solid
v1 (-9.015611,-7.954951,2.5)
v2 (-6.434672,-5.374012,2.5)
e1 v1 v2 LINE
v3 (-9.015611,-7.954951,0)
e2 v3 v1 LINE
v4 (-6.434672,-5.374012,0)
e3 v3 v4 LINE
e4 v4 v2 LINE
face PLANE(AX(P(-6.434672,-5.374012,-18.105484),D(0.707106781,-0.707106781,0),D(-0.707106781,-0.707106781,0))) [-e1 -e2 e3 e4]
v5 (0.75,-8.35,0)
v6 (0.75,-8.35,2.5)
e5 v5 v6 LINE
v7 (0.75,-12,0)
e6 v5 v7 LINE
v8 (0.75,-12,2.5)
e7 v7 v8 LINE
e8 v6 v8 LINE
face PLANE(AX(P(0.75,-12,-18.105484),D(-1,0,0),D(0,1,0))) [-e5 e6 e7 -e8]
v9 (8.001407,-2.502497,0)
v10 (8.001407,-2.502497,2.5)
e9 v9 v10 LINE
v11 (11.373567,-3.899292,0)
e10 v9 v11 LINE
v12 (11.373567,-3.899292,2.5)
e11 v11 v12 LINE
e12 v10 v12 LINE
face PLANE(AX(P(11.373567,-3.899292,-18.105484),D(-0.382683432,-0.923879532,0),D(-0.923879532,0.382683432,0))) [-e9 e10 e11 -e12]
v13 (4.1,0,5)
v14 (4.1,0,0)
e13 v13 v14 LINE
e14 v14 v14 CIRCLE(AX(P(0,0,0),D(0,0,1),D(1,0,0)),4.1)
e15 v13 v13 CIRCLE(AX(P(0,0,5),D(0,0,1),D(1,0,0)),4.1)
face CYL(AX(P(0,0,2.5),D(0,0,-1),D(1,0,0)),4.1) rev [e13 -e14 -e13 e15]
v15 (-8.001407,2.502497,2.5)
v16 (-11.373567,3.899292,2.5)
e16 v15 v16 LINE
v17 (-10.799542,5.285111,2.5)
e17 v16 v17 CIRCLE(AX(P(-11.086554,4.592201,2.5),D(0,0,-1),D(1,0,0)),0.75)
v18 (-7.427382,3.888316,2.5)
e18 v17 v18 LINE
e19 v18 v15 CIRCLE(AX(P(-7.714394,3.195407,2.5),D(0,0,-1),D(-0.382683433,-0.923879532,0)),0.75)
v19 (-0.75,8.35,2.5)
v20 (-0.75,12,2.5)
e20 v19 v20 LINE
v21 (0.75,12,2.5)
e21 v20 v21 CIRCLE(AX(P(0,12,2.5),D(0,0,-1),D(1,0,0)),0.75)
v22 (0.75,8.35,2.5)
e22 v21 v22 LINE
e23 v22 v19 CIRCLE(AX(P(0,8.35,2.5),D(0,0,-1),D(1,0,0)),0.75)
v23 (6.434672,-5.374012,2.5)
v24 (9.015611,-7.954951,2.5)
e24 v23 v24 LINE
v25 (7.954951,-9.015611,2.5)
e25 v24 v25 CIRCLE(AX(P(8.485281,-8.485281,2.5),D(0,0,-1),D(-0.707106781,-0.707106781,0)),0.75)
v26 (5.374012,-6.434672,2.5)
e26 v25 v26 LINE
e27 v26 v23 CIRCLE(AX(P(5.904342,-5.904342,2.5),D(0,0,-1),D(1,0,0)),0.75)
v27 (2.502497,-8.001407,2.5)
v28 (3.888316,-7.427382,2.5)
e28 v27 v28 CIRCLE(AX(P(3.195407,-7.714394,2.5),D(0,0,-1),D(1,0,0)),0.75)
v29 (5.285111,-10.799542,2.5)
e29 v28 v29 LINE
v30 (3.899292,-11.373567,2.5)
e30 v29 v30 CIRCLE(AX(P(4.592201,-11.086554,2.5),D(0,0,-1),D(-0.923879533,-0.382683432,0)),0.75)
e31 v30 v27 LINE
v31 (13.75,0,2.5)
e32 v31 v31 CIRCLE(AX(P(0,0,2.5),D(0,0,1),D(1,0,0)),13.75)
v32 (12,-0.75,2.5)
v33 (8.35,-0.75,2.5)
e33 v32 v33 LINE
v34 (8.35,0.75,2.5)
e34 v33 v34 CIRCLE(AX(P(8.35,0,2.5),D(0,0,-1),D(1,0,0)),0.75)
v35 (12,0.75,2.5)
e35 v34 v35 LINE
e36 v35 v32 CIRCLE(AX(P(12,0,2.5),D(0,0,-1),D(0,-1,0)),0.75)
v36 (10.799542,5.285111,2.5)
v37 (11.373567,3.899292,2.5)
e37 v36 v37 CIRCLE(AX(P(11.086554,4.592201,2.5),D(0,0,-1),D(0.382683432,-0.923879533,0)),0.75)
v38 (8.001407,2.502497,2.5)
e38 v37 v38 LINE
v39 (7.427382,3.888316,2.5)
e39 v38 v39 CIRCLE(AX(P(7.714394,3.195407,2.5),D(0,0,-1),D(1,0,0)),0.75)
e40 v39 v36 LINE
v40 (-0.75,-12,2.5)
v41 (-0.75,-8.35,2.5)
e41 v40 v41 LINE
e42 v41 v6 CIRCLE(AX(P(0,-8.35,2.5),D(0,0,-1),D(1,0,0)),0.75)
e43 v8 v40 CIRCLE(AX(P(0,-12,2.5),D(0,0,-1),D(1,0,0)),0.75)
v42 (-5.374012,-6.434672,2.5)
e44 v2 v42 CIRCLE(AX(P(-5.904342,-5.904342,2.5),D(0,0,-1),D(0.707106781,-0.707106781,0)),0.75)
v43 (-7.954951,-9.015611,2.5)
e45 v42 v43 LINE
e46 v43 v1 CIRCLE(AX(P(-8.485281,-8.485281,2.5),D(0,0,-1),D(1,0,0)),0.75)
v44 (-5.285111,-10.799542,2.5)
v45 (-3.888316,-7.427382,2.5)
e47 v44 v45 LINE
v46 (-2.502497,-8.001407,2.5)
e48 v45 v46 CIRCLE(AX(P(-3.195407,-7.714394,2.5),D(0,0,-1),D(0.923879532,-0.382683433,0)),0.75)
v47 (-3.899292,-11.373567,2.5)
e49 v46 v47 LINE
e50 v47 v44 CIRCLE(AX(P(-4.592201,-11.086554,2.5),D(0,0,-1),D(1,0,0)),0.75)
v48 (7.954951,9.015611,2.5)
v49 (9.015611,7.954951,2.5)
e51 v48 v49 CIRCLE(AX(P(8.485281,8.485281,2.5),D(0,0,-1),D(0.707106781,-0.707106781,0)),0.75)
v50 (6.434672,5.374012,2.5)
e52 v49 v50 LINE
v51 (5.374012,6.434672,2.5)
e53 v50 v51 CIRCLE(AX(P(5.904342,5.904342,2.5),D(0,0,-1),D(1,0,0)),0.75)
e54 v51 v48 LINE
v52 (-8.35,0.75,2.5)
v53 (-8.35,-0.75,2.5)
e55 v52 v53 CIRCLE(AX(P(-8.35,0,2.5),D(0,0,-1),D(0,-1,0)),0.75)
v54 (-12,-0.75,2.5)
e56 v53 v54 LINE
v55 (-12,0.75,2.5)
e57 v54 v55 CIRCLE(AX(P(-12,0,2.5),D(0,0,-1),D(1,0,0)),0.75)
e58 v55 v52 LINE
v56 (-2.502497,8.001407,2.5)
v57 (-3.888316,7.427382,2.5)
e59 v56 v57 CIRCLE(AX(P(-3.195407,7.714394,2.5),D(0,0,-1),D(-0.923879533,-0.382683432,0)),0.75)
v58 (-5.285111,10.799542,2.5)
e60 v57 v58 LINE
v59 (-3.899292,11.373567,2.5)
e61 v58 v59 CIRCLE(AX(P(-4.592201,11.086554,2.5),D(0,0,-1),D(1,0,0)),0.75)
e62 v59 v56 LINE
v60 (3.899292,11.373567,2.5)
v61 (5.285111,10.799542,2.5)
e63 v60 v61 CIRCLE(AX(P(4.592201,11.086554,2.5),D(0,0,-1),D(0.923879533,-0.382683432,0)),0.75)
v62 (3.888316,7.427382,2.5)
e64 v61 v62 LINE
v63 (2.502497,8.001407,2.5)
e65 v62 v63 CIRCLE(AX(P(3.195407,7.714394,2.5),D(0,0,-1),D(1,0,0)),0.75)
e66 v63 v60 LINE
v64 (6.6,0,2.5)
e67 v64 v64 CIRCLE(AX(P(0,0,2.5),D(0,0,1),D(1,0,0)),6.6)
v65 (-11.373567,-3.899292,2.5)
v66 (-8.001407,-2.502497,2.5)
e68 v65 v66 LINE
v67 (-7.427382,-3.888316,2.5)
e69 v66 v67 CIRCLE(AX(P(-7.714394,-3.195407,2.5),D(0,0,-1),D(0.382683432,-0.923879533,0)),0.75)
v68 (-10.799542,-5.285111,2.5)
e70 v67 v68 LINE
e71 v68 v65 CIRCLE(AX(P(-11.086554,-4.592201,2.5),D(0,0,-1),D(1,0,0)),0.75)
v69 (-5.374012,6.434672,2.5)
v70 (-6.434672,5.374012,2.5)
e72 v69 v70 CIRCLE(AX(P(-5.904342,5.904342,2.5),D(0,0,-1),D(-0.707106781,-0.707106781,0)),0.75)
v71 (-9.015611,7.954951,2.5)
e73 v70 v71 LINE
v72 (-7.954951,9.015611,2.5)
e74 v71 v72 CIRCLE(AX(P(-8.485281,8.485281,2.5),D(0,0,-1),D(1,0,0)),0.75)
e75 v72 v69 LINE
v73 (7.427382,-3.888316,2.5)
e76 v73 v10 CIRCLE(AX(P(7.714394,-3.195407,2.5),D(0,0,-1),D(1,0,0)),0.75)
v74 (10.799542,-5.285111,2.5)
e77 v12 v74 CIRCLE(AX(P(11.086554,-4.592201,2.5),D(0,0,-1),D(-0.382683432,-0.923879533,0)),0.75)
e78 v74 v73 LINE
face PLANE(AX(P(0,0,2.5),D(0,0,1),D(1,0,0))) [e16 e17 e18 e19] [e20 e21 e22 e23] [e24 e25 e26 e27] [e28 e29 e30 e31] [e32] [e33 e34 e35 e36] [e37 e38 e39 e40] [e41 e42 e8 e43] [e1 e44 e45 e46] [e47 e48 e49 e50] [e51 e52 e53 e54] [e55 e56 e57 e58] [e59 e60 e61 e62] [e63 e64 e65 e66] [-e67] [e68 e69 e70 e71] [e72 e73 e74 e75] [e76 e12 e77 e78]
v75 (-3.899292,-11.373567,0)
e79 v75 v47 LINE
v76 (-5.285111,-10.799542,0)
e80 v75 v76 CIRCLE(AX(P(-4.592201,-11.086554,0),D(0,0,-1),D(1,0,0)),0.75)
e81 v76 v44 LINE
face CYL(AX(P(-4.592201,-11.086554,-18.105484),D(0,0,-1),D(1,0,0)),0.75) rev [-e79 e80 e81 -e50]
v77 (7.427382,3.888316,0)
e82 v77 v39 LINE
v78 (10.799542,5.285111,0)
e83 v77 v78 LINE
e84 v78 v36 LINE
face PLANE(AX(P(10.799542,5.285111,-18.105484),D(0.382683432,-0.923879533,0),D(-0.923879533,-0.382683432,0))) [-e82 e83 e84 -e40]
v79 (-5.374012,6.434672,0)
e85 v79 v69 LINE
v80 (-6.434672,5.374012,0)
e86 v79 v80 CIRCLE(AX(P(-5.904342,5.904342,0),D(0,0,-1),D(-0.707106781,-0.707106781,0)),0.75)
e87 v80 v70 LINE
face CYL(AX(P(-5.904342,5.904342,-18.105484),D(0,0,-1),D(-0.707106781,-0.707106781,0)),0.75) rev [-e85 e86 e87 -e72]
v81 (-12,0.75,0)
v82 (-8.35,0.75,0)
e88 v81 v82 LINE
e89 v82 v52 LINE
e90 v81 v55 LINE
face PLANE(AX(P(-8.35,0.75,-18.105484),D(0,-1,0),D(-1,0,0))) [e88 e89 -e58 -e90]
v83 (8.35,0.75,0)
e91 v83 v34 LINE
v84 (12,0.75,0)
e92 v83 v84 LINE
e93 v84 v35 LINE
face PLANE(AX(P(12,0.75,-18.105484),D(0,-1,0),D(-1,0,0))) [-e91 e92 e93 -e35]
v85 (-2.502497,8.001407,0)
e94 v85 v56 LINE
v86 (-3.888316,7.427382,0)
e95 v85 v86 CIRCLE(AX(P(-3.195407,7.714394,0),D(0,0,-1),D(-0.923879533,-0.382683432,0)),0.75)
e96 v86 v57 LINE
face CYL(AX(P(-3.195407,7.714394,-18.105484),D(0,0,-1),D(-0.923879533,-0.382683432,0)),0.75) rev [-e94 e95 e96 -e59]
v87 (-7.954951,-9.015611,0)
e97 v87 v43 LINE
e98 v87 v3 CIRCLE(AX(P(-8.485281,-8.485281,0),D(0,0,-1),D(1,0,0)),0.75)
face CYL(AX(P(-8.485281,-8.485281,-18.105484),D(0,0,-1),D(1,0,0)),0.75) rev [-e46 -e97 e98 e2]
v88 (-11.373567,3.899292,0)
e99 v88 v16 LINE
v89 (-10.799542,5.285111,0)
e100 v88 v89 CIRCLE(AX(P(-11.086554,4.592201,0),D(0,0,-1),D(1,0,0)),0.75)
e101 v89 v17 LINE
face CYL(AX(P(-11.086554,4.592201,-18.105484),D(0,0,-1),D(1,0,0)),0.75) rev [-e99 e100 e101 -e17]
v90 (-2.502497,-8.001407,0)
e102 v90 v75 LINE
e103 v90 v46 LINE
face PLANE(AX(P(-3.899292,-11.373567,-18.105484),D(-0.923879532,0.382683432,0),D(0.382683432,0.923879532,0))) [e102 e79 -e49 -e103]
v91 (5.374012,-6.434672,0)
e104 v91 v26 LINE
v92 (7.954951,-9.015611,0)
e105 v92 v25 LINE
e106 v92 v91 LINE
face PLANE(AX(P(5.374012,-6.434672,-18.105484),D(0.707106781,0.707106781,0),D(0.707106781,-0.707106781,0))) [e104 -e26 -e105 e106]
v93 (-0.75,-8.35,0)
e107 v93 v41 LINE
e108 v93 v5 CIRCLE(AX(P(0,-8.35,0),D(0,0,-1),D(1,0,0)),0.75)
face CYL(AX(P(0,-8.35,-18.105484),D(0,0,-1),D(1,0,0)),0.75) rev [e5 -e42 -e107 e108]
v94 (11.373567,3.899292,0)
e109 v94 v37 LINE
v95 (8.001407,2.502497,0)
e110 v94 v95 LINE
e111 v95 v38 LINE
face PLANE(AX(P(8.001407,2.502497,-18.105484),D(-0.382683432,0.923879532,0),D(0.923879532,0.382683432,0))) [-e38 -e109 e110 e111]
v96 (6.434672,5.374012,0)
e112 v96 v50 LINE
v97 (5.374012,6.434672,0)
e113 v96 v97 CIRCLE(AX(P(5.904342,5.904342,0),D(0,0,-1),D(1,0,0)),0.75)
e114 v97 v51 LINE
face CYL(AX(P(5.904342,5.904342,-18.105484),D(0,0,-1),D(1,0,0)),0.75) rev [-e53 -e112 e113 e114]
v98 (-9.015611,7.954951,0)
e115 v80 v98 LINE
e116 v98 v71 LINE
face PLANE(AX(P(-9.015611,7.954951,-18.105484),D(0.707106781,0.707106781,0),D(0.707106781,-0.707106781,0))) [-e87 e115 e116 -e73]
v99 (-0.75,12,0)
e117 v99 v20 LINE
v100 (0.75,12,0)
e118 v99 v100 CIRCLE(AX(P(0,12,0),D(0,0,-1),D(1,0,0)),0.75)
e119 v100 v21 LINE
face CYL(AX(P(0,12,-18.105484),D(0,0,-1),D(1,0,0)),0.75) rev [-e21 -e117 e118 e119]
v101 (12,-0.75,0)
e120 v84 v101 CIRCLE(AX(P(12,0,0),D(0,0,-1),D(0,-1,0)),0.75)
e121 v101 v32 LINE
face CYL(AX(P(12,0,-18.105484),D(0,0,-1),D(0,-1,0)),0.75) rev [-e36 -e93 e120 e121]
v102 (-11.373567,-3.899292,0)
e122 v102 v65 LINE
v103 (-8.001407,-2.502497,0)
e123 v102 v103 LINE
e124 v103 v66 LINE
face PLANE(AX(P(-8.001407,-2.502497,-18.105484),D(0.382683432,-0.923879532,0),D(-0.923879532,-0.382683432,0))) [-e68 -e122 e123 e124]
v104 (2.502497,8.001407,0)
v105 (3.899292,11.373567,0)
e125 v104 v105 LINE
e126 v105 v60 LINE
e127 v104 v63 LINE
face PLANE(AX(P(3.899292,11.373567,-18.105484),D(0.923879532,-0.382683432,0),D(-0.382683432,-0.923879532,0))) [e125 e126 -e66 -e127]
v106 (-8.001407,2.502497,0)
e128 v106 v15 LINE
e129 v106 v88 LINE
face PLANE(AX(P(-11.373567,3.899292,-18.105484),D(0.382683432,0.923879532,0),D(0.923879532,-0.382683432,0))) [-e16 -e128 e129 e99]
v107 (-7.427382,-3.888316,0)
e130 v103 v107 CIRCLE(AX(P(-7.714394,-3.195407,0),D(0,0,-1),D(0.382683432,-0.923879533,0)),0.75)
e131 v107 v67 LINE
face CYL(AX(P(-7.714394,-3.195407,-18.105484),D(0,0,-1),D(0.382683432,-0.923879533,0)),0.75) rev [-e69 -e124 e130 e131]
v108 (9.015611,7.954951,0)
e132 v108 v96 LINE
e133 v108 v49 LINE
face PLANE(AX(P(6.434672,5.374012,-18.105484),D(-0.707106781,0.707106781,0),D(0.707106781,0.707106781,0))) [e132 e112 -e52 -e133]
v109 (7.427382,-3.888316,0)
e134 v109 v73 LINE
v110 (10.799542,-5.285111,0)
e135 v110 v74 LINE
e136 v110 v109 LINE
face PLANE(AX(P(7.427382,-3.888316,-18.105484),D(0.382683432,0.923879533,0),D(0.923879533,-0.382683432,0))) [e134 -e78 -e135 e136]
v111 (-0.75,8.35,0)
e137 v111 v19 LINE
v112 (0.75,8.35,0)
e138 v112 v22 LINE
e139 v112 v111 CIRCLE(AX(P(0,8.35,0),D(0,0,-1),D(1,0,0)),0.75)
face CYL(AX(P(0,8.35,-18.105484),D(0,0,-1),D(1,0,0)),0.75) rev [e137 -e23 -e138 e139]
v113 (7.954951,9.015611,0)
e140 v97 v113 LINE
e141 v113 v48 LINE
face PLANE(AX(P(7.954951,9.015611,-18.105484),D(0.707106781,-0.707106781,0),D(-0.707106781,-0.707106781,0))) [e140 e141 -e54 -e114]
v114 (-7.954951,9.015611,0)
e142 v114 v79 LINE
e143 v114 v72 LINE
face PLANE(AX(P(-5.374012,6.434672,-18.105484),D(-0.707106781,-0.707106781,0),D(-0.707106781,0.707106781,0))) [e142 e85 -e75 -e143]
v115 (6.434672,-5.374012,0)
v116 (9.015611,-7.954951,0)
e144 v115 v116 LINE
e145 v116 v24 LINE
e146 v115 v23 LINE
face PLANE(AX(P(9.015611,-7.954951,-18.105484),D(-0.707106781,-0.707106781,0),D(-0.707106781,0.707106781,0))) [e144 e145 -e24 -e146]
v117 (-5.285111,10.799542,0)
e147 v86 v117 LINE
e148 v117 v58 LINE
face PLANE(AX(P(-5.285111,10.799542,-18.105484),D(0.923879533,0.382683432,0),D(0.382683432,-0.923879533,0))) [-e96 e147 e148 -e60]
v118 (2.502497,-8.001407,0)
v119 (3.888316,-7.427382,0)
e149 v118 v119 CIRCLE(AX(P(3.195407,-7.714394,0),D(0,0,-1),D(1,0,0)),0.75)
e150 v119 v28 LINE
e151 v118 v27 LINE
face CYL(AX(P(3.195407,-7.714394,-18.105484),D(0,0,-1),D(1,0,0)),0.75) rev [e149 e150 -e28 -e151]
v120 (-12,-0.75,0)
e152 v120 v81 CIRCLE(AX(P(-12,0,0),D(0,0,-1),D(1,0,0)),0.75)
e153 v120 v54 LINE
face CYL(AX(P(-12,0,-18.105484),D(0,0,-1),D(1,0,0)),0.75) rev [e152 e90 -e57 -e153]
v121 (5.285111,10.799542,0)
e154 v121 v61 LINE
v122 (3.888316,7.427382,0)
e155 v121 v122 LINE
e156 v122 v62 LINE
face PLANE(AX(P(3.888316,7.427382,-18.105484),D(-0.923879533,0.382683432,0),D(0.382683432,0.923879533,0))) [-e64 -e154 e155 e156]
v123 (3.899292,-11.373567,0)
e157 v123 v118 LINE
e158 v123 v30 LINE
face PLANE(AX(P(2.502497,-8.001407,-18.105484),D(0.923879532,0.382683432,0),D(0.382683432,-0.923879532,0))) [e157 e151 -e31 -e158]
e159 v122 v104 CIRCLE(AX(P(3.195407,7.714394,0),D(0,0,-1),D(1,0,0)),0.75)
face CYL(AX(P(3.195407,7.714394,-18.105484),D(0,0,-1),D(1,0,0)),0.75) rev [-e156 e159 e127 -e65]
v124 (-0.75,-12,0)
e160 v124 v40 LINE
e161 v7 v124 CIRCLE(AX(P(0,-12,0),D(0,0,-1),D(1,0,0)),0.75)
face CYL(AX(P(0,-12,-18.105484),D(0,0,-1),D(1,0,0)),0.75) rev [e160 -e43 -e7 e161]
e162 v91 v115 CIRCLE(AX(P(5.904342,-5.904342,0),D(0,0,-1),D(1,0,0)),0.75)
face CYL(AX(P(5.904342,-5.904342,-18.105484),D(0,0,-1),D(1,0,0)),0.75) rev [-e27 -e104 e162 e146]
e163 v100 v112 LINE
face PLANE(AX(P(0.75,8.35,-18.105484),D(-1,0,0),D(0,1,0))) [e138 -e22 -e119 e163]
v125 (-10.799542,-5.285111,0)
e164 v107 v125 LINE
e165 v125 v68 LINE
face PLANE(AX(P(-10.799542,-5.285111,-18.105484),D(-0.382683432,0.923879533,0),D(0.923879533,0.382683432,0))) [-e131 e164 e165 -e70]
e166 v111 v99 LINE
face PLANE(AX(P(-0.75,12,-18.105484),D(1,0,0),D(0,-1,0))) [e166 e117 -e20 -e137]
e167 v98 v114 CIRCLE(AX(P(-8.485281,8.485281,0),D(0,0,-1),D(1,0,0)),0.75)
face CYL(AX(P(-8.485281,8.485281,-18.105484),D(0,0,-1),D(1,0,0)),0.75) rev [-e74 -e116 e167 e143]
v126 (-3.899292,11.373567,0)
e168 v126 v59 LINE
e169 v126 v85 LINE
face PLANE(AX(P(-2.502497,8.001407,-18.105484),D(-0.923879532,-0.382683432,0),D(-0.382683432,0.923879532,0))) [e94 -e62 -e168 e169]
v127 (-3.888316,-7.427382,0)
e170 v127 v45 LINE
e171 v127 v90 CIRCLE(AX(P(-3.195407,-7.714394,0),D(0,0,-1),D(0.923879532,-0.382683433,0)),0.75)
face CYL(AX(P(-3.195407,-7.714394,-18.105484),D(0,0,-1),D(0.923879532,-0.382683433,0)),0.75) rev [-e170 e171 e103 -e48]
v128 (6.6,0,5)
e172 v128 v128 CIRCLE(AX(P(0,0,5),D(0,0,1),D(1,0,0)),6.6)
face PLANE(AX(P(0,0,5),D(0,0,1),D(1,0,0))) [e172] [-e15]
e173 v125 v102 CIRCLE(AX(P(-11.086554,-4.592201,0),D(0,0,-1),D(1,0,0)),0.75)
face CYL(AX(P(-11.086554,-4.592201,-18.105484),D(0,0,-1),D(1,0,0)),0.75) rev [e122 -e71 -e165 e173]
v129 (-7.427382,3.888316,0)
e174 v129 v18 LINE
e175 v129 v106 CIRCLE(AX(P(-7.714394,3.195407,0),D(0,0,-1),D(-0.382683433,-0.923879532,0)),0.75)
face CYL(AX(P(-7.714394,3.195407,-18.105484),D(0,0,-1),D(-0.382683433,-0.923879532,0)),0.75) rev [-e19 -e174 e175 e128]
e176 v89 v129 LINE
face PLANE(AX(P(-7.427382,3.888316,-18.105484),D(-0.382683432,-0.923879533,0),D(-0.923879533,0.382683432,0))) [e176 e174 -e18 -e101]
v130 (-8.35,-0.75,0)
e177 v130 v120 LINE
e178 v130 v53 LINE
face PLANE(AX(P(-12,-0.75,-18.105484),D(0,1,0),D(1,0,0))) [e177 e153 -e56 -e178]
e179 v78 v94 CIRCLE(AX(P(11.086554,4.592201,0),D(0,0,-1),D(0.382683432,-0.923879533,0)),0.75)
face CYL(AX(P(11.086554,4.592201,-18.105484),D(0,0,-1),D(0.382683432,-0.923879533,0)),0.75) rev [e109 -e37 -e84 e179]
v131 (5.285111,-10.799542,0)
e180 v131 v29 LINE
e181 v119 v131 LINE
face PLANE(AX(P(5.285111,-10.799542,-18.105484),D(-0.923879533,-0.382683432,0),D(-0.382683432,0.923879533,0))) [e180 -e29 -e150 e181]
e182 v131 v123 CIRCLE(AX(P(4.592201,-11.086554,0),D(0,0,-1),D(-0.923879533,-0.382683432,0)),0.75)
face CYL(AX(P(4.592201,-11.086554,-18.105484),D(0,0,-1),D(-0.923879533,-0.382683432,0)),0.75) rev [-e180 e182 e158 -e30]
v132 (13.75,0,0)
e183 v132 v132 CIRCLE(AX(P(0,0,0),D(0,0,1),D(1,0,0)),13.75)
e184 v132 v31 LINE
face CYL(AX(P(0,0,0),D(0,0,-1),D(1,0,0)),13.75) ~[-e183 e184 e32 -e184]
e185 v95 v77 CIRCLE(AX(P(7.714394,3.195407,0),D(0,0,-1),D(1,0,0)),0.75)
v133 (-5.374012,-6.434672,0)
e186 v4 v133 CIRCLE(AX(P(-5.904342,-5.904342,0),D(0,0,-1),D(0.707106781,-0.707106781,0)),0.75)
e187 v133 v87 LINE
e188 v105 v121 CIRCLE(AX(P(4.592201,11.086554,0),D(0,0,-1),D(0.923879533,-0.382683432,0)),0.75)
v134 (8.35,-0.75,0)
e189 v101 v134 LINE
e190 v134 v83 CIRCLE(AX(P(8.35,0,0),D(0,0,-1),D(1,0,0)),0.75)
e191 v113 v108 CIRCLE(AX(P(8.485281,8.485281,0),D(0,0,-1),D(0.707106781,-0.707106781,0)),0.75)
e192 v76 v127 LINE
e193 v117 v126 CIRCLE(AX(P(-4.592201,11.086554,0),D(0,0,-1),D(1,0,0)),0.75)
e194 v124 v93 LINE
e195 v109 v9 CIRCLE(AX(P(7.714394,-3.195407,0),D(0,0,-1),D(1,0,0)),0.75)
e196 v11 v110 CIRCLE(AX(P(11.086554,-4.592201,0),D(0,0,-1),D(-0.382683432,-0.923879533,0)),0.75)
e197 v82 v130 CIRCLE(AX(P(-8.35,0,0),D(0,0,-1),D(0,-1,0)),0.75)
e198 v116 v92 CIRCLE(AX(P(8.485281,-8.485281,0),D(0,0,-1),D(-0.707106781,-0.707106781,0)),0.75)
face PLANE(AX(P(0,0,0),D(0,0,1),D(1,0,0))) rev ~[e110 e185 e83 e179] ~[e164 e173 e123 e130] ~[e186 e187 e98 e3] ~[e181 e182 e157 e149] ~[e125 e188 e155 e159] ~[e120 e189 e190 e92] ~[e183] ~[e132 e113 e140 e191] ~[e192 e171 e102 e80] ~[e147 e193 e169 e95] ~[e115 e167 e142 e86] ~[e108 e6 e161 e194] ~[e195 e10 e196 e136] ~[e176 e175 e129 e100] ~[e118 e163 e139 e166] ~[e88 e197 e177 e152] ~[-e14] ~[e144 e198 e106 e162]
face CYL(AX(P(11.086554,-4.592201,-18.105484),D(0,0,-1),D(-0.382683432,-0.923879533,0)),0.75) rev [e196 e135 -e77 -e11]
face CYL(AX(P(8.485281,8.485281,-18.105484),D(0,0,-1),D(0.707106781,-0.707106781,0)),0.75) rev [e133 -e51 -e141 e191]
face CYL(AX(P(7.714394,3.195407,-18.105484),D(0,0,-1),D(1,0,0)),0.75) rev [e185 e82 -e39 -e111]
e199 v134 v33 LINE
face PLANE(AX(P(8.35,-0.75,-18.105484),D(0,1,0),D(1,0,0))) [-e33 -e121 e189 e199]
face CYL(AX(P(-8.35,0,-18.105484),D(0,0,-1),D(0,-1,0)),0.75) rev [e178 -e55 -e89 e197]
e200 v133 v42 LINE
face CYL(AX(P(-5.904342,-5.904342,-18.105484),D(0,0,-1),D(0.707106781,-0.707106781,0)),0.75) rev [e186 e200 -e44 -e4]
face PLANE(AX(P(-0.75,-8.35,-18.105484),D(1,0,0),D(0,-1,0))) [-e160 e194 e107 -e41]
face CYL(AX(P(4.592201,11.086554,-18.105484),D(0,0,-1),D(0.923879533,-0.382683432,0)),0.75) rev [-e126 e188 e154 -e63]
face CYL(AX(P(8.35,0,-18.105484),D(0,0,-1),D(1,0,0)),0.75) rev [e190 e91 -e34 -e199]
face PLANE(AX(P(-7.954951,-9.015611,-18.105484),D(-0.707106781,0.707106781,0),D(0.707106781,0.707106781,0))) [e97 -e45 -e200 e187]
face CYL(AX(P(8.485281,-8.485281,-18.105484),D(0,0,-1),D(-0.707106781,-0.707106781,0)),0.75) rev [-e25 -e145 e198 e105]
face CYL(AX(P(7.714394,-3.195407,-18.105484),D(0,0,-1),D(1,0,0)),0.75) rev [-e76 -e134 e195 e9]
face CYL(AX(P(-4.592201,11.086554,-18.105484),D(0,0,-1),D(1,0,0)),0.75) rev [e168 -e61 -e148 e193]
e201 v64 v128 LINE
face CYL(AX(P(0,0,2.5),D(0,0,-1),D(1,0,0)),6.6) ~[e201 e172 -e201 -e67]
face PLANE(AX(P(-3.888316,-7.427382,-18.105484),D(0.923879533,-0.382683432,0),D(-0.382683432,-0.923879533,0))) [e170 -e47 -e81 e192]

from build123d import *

# Parameters (mm, degrees)
SKETCH1_R               = 13.75
SKETCH1_R_2             = 4.1
BOSS_EXTRUDE1_DEPTH     = 2.5
SKETCH2_R               = 6.6
SKETCH2_R_2             = 4.1
BOSS_EXTRUDE2_DEPTH     = 2.5
CUT_EXTRUDE1_DEPTH      = 20.605483927
CUT_EXTRUDE1_DEPTH_BACK = 20.605483927
SKETCH3_R               = 0.75


with BuildPart() as part:
    # Sketch1 → Boss-Extrude1 (new body)
    with BuildSketch(Plane.XY):
        Circle(SKETCH1_R)
        Circle(SKETCH1_R_2, mode=Mode.SUBTRACT)
    extrude(amount=BOSS_EXTRUDE1_DEPTH)

    # Sketch2 → Boss-Extrude2 (add)
    with BuildSketch(Plane.XY.offset(2.5)):
        Circle(SKETCH2_R)
        Circle(SKETCH2_R_2, mode=Mode.SUBTRACT)
    extrude(amount=BOSS_EXTRUDE2_DEPTH)

    # Sketch3 → Cut-Extrude1 (cut, two sides: drawn at the far end of the back side and taken through both)
    with BuildSketch(Plane.XY.offset(2.5).offset(-CUT_EXTRUDE1_DEPTH_BACK)):
        with BuildLine():
            ThreePointArc((0.75, 12), (0, 11.25), (-0.75, 12))
            Line((-0.75, 12), (-0.75, 8.35))
            ThreePointArc((-0.75, 8.35), (0, 9.1), (0.75, 8.35))
            Line((0.75, 8.35), (0.75, 12))
        make_face()
        with BuildLine():
            ThreePointArc((5.285110838, 10.799541816), (4.305188614, 10.393644741), (3.899291539, 11.373566964))
            Line((3.899291539, 11.373566964), (2.502497011, 8.001406671))
            ThreePointArc((2.502497011, 8.001406671), (3.341724402, 8.449983057), (3.94540666, 7.714394096))
            ThreePointArc((3.94540666, 7.714394096), (3.930995621, 7.568076355), (3.88831631, 7.427381522))
            Line((3.88831631, 7.427381522), (5.285110838, 10.799541816))
        make_face()
        with BuildLine():
            ThreePointArc((9.01561146, 7.954951288), (7.954951288, 7.954951288), (7.954951288, 9.01561146))
            Line((7.954951288, 9.01561146), (5.374011537, 6.434671709))
            ThreePointArc((5.374011537, 6.434671709), (6.191354197, 6.597251272), (6.654341623, 5.904341623))
            ThreePointArc((6.654341623, 5.904341623), (6.597251272, 5.617329049), (6.434671709, 5.374011537))
            Line((6.434671709, 5.374011537), (9.01561146, 7.954951288))
        make_face()
        with BuildLine():
            ThreePointArc((11.373566964, 3.899291539), (10.393644741, 4.305188614), (10.799541816, 5.285110838))
            Line((10.799541816, 5.285110838), (7.427381522, 3.88831631))
            ThreePointArc((7.427381522, 3.88831631), (8.131071771, 3.819008869), (8.464394096, 3.19540666))
            ThreePointArc((8.464394096, 3.19540666), (8.337996306, 2.778728985), (8.001406671, 2.502497011))
            Line((8.001406671, 2.502497011), (11.373566964, 3.899291539))
        make_face()
        with BuildLine():
            ThreePointArc((12, -0.75), (11.25, 0), (12, 0.75))
            Line((12, 0.75), (8.35, 0.75))
            ThreePointArc((8.35, 0.75), (8.880330086, 0.530330086), (9.1, 0))
            ThreePointArc((9.1, 0), (8.880330086, -0.530330086), (8.35, -0.75))
            Line((8.35, -0.75), (12, -0.75))
        make_face()
        with BuildLine():
            ThreePointArc((10.799541816, -5.285110838), (10.393644741, -4.305188614), (11.373566964, -3.899291539))
            Line((11.373566964, -3.899291539), (8.001406671, -2.502497011))
            ThreePointArc((8.001406671, -2.502497011), (8.337996306, -2.778728985), (8.464394096, -3.19540666))
            ThreePointArc((8.464394096, -3.19540666), (8.131071771, -3.819008869), (7.427381522, -3.88831631))
            Line((7.427381522, -3.88831631), (10.799541816, -5.285110838))
        make_face()
        with BuildLine():
            ThreePointArc((7.954951288, -9.01561146), (7.954951288, -7.954951288), (9.01561146, -7.954951288))
            Line((9.01561146, -7.954951288), (6.434671709, -5.374011537))
            ThreePointArc((6.434671709, -5.374011537), (6.597251272, -5.617329049), (6.654341623, -5.904341623))
            ThreePointArc((6.654341623, -5.904341623), (6.191354197, -6.597251272), (5.374011537, -6.434671709))
            Line((5.374011537, -6.434671709), (7.954951288, -9.01561146))
        make_face()
        with BuildLine():
            ThreePointArc((3.899291539, -11.373566964), (4.305188614, -10.393644741), (5.285110838, -10.799541816))
            Line((5.285110838, -10.799541816), (3.88831631, -7.427381522))
            ThreePointArc((3.88831631, -7.427381522), (3.930995621, -7.568076355), (3.94540666, -7.714394096))
            ThreePointArc((3.94540666, -7.714394096), (3.341724402, -8.449983057), (2.502497011, -8.001406671))
            Line((2.502497011, -8.001406671), (3.899291539, -11.373566964))
        make_face()
        with BuildLine():
            ThreePointArc((-0.75, -12), (0, -11.25), (0.75, -12))
            Line((0.75, -12), (0.75, -8.35))
            ThreePointArc((0.75, -8.35), (0, -9.1), (-0.75, -8.35))
            Line((-0.75, -8.35), (-0.75, -12))
        make_face()
        with BuildLine():
            ThreePointArc((-3.842201188, -11.08655439), (-3.856612228, -11.232872132), (-3.899291539, -11.373566964))
            Line((-3.899291539, -11.373566964), (-2.502497011, -8.001406671))
            ThreePointArc((-2.502497011, -8.001406671), (-3.482419235, -8.407303746), (-3.88831631, -7.427381522))
            Line((-3.88831631, -7.427381522), (-5.285110838, -10.799541816))
            ThreePointArc((-5.285110838, -10.799541816), (-4.445883447, -10.35096543), (-3.842201188, -11.08655439))
        make_face()
        with BuildLine():
            ThreePointArc((-7.735281374, -8.485281374), (-7.792371725, -8.772293949), (-7.954951288, -9.01561146))
            Line((-7.954951288, -9.01561146), (-5.374011537, -6.434671709))
            ThreePointArc((-5.374011537, -6.434671709), (-6.434671709, -6.434671709), (-6.434671709, -5.374011537))
            Line((-6.434671709, -5.374011537), (-9.01561146, -7.954951288))
            ThreePointArc((-9.01561146, -7.954951288), (-8.1982688, -7.792371725), (-7.735281374, -8.485281374))
        make_face()
        with BuildLine():
            ThreePointArc((-10.33655439, -4.592201188), (-10.462952181, -5.008878863), (-10.799541816, -5.285110838))
            Line((-10.799541816, -5.285110838), (-7.427381522, -3.88831631))
            ThreePointArc((-7.427381522, -3.88831631), (-8.407303746, -3.482419235), (-8.001406671, -2.502497011))
            Line((-8.001406671, -2.502497011), (-11.373566964, -3.899291539))
            ThreePointArc((-11.373566964, -3.899291539), (-10.669876715, -3.968598979), (-10.33655439, -4.592201188))
        make_face()
        with BuildLine():
            ThreePointArc((-11.25, 0), (-11.469669914, -0.530330086), (-12, -0.75))
            Line((-12, -0.75), (-8.35, -0.75))
            ThreePointArc((-8.35, -0.75), (-9.1, 0), (-8.35, 0.75))
            Line((-8.35, 0.75), (-12, 0.75))
            ThreePointArc((-12, 0.75), (-11.469669914, 0.530330086), (-11.25, 0))
        make_face()
        with BuildLine():
            ThreePointArc((-10.33655439, 4.592201188), (-10.669876715, 3.968598979), (-11.373566964, 3.899291539))
            Line((-11.373566964, 3.899291539), (-8.001406671, 2.502497011))
            ThreePointArc((-8.001406671, 2.502497011), (-8.407303746, 3.482419235), (-7.427381522, 3.88831631))
            Line((-7.427381522, 3.88831631), (-10.799541816, 5.285110838))
            ThreePointArc((-10.799541816, 5.285110838), (-10.462952181, 5.008878863), (-10.33655439, 4.592201188))
        make_face()
        with BuildLine():
            ThreePointArc((-7.735281374, 8.485281374), (-8.1982688, 7.792371725), (-9.01561146, 7.954951288))
            Line((-9.01561146, 7.954951288), (-6.434671709, 5.374011537))
            ThreePointArc((-6.434671709, 5.374011537), (-6.434671709, 6.434671709), (-5.374011537, 6.434671709))
            Line((-5.374011537, 6.434671709), (-7.954951288, 9.01561146))
            ThreePointArc((-7.954951288, 9.01561146), (-7.792371725, 8.772293949), (-7.735281374, 8.485281374))
        make_face()
        with BuildLine():
            ThreePointArc((-3.842201188, 11.08655439), (-4.445883447, 10.35096543), (-5.285110838, 10.799541816))
            Line((-5.285110838, 10.799541816), (-3.88831631, 7.427381522))
            ThreePointArc((-3.88831631, 7.427381522), (-3.482419235, 8.407303746), (-2.502497011, 8.001406671))
            Line((-2.502497011, 8.001406671), (-3.899291539, 11.373566964))
            ThreePointArc((-3.899291539, 11.373566964), (-3.856612228, 11.232872132), (-3.842201188, 11.08655439))
        make_face()
        with Locations((0, 12)):
            Circle(SKETCH3_R)
        with Locations((4.592201188, 11.08655439)):
            Circle(SKETCH3_R)
        with Locations((8.485281374, 8.485281374)):
            Circle(SKETCH3_R)
        with Locations((11.08655439, 4.592201188)):
            Circle(SKETCH3_R)
        with Locations((7.714394096, 3.19540666)):
            Circle(SKETCH3_R)
        with Locations((5.904341623, 5.904341623)):
            Circle(SKETCH3_R)
        with Locations((3.19540666, 7.714394096)):
            Circle(SKETCH3_R)
        with Locations((0, 8.35)):
            Circle(SKETCH3_R)
        with Locations((-4.592201188, 11.08655439)):
            Circle(SKETCH3_R)
        with Locations((-8.485281374, 8.485281374)):
            Circle(SKETCH3_R)
        with Locations((-11.08655439, 4.592201188)):
            Circle(SKETCH3_R)
        with Locations((-7.714394096, 3.19540666)):
            Circle(SKETCH3_R)
        with Locations((-5.904341623, 5.904341623)):
            Circle(SKETCH3_R)
        with Locations((-3.19540666, 7.714394096)):
            Circle(SKETCH3_R)
        with Locations((-12, 0)):
            Circle(SKETCH3_R)
        with Locations((-11.08655439, -4.592201188)):
            Circle(SKETCH3_R)
        with Locations((-8.485281374, -8.485281374)):
            Circle(SKETCH3_R)
        with Locations((-4.592201188, -11.08655439)):
            Circle(SKETCH3_R)
        with Locations((-8.35, 0)):
            Circle(SKETCH3_R)
        with Locations((-7.714394096, -3.19540666)):
            Circle(SKETCH3_R)
        with Locations((-5.904341623, -5.904341623)):
            Circle(SKETCH3_R)
        with Locations((-3.19540666, -7.714394096)):
            Circle(SKETCH3_R)
        with Locations((3.19540666, -7.714394096)):
            Circle(SKETCH3_R)
        with Locations((5.904341623, -5.904341623)):
            Circle(SKETCH3_R)
        with Locations((7.714394096, -3.19540666)):
            Circle(SKETCH3_R)
        with Locations((8.35, 0)):
            Circle(SKETCH3_R)
        with Locations((12, 0)):
            Circle(SKETCH3_R)
        with Locations((11.08655439, -4.592201188)):
            Circle(SKETCH3_R)
        with Locations((8.485281374, -8.485281374)):
            Circle(SKETCH3_R)
        with Locations((4.592201188, -11.08655439)):
            Circle(SKETCH3_R)
        with Locations((0, -12)):
            Circle(SKETCH3_R)
        with Locations((0, -8.35)):
            Circle(SKETCH3_R)
    extrude(amount=CUT_EXTRUDE1_DEPTH + CUT_EXTRUDE1_DEPTH_BACK, mode=Mode.SUBTRACT)


solid = part.part
